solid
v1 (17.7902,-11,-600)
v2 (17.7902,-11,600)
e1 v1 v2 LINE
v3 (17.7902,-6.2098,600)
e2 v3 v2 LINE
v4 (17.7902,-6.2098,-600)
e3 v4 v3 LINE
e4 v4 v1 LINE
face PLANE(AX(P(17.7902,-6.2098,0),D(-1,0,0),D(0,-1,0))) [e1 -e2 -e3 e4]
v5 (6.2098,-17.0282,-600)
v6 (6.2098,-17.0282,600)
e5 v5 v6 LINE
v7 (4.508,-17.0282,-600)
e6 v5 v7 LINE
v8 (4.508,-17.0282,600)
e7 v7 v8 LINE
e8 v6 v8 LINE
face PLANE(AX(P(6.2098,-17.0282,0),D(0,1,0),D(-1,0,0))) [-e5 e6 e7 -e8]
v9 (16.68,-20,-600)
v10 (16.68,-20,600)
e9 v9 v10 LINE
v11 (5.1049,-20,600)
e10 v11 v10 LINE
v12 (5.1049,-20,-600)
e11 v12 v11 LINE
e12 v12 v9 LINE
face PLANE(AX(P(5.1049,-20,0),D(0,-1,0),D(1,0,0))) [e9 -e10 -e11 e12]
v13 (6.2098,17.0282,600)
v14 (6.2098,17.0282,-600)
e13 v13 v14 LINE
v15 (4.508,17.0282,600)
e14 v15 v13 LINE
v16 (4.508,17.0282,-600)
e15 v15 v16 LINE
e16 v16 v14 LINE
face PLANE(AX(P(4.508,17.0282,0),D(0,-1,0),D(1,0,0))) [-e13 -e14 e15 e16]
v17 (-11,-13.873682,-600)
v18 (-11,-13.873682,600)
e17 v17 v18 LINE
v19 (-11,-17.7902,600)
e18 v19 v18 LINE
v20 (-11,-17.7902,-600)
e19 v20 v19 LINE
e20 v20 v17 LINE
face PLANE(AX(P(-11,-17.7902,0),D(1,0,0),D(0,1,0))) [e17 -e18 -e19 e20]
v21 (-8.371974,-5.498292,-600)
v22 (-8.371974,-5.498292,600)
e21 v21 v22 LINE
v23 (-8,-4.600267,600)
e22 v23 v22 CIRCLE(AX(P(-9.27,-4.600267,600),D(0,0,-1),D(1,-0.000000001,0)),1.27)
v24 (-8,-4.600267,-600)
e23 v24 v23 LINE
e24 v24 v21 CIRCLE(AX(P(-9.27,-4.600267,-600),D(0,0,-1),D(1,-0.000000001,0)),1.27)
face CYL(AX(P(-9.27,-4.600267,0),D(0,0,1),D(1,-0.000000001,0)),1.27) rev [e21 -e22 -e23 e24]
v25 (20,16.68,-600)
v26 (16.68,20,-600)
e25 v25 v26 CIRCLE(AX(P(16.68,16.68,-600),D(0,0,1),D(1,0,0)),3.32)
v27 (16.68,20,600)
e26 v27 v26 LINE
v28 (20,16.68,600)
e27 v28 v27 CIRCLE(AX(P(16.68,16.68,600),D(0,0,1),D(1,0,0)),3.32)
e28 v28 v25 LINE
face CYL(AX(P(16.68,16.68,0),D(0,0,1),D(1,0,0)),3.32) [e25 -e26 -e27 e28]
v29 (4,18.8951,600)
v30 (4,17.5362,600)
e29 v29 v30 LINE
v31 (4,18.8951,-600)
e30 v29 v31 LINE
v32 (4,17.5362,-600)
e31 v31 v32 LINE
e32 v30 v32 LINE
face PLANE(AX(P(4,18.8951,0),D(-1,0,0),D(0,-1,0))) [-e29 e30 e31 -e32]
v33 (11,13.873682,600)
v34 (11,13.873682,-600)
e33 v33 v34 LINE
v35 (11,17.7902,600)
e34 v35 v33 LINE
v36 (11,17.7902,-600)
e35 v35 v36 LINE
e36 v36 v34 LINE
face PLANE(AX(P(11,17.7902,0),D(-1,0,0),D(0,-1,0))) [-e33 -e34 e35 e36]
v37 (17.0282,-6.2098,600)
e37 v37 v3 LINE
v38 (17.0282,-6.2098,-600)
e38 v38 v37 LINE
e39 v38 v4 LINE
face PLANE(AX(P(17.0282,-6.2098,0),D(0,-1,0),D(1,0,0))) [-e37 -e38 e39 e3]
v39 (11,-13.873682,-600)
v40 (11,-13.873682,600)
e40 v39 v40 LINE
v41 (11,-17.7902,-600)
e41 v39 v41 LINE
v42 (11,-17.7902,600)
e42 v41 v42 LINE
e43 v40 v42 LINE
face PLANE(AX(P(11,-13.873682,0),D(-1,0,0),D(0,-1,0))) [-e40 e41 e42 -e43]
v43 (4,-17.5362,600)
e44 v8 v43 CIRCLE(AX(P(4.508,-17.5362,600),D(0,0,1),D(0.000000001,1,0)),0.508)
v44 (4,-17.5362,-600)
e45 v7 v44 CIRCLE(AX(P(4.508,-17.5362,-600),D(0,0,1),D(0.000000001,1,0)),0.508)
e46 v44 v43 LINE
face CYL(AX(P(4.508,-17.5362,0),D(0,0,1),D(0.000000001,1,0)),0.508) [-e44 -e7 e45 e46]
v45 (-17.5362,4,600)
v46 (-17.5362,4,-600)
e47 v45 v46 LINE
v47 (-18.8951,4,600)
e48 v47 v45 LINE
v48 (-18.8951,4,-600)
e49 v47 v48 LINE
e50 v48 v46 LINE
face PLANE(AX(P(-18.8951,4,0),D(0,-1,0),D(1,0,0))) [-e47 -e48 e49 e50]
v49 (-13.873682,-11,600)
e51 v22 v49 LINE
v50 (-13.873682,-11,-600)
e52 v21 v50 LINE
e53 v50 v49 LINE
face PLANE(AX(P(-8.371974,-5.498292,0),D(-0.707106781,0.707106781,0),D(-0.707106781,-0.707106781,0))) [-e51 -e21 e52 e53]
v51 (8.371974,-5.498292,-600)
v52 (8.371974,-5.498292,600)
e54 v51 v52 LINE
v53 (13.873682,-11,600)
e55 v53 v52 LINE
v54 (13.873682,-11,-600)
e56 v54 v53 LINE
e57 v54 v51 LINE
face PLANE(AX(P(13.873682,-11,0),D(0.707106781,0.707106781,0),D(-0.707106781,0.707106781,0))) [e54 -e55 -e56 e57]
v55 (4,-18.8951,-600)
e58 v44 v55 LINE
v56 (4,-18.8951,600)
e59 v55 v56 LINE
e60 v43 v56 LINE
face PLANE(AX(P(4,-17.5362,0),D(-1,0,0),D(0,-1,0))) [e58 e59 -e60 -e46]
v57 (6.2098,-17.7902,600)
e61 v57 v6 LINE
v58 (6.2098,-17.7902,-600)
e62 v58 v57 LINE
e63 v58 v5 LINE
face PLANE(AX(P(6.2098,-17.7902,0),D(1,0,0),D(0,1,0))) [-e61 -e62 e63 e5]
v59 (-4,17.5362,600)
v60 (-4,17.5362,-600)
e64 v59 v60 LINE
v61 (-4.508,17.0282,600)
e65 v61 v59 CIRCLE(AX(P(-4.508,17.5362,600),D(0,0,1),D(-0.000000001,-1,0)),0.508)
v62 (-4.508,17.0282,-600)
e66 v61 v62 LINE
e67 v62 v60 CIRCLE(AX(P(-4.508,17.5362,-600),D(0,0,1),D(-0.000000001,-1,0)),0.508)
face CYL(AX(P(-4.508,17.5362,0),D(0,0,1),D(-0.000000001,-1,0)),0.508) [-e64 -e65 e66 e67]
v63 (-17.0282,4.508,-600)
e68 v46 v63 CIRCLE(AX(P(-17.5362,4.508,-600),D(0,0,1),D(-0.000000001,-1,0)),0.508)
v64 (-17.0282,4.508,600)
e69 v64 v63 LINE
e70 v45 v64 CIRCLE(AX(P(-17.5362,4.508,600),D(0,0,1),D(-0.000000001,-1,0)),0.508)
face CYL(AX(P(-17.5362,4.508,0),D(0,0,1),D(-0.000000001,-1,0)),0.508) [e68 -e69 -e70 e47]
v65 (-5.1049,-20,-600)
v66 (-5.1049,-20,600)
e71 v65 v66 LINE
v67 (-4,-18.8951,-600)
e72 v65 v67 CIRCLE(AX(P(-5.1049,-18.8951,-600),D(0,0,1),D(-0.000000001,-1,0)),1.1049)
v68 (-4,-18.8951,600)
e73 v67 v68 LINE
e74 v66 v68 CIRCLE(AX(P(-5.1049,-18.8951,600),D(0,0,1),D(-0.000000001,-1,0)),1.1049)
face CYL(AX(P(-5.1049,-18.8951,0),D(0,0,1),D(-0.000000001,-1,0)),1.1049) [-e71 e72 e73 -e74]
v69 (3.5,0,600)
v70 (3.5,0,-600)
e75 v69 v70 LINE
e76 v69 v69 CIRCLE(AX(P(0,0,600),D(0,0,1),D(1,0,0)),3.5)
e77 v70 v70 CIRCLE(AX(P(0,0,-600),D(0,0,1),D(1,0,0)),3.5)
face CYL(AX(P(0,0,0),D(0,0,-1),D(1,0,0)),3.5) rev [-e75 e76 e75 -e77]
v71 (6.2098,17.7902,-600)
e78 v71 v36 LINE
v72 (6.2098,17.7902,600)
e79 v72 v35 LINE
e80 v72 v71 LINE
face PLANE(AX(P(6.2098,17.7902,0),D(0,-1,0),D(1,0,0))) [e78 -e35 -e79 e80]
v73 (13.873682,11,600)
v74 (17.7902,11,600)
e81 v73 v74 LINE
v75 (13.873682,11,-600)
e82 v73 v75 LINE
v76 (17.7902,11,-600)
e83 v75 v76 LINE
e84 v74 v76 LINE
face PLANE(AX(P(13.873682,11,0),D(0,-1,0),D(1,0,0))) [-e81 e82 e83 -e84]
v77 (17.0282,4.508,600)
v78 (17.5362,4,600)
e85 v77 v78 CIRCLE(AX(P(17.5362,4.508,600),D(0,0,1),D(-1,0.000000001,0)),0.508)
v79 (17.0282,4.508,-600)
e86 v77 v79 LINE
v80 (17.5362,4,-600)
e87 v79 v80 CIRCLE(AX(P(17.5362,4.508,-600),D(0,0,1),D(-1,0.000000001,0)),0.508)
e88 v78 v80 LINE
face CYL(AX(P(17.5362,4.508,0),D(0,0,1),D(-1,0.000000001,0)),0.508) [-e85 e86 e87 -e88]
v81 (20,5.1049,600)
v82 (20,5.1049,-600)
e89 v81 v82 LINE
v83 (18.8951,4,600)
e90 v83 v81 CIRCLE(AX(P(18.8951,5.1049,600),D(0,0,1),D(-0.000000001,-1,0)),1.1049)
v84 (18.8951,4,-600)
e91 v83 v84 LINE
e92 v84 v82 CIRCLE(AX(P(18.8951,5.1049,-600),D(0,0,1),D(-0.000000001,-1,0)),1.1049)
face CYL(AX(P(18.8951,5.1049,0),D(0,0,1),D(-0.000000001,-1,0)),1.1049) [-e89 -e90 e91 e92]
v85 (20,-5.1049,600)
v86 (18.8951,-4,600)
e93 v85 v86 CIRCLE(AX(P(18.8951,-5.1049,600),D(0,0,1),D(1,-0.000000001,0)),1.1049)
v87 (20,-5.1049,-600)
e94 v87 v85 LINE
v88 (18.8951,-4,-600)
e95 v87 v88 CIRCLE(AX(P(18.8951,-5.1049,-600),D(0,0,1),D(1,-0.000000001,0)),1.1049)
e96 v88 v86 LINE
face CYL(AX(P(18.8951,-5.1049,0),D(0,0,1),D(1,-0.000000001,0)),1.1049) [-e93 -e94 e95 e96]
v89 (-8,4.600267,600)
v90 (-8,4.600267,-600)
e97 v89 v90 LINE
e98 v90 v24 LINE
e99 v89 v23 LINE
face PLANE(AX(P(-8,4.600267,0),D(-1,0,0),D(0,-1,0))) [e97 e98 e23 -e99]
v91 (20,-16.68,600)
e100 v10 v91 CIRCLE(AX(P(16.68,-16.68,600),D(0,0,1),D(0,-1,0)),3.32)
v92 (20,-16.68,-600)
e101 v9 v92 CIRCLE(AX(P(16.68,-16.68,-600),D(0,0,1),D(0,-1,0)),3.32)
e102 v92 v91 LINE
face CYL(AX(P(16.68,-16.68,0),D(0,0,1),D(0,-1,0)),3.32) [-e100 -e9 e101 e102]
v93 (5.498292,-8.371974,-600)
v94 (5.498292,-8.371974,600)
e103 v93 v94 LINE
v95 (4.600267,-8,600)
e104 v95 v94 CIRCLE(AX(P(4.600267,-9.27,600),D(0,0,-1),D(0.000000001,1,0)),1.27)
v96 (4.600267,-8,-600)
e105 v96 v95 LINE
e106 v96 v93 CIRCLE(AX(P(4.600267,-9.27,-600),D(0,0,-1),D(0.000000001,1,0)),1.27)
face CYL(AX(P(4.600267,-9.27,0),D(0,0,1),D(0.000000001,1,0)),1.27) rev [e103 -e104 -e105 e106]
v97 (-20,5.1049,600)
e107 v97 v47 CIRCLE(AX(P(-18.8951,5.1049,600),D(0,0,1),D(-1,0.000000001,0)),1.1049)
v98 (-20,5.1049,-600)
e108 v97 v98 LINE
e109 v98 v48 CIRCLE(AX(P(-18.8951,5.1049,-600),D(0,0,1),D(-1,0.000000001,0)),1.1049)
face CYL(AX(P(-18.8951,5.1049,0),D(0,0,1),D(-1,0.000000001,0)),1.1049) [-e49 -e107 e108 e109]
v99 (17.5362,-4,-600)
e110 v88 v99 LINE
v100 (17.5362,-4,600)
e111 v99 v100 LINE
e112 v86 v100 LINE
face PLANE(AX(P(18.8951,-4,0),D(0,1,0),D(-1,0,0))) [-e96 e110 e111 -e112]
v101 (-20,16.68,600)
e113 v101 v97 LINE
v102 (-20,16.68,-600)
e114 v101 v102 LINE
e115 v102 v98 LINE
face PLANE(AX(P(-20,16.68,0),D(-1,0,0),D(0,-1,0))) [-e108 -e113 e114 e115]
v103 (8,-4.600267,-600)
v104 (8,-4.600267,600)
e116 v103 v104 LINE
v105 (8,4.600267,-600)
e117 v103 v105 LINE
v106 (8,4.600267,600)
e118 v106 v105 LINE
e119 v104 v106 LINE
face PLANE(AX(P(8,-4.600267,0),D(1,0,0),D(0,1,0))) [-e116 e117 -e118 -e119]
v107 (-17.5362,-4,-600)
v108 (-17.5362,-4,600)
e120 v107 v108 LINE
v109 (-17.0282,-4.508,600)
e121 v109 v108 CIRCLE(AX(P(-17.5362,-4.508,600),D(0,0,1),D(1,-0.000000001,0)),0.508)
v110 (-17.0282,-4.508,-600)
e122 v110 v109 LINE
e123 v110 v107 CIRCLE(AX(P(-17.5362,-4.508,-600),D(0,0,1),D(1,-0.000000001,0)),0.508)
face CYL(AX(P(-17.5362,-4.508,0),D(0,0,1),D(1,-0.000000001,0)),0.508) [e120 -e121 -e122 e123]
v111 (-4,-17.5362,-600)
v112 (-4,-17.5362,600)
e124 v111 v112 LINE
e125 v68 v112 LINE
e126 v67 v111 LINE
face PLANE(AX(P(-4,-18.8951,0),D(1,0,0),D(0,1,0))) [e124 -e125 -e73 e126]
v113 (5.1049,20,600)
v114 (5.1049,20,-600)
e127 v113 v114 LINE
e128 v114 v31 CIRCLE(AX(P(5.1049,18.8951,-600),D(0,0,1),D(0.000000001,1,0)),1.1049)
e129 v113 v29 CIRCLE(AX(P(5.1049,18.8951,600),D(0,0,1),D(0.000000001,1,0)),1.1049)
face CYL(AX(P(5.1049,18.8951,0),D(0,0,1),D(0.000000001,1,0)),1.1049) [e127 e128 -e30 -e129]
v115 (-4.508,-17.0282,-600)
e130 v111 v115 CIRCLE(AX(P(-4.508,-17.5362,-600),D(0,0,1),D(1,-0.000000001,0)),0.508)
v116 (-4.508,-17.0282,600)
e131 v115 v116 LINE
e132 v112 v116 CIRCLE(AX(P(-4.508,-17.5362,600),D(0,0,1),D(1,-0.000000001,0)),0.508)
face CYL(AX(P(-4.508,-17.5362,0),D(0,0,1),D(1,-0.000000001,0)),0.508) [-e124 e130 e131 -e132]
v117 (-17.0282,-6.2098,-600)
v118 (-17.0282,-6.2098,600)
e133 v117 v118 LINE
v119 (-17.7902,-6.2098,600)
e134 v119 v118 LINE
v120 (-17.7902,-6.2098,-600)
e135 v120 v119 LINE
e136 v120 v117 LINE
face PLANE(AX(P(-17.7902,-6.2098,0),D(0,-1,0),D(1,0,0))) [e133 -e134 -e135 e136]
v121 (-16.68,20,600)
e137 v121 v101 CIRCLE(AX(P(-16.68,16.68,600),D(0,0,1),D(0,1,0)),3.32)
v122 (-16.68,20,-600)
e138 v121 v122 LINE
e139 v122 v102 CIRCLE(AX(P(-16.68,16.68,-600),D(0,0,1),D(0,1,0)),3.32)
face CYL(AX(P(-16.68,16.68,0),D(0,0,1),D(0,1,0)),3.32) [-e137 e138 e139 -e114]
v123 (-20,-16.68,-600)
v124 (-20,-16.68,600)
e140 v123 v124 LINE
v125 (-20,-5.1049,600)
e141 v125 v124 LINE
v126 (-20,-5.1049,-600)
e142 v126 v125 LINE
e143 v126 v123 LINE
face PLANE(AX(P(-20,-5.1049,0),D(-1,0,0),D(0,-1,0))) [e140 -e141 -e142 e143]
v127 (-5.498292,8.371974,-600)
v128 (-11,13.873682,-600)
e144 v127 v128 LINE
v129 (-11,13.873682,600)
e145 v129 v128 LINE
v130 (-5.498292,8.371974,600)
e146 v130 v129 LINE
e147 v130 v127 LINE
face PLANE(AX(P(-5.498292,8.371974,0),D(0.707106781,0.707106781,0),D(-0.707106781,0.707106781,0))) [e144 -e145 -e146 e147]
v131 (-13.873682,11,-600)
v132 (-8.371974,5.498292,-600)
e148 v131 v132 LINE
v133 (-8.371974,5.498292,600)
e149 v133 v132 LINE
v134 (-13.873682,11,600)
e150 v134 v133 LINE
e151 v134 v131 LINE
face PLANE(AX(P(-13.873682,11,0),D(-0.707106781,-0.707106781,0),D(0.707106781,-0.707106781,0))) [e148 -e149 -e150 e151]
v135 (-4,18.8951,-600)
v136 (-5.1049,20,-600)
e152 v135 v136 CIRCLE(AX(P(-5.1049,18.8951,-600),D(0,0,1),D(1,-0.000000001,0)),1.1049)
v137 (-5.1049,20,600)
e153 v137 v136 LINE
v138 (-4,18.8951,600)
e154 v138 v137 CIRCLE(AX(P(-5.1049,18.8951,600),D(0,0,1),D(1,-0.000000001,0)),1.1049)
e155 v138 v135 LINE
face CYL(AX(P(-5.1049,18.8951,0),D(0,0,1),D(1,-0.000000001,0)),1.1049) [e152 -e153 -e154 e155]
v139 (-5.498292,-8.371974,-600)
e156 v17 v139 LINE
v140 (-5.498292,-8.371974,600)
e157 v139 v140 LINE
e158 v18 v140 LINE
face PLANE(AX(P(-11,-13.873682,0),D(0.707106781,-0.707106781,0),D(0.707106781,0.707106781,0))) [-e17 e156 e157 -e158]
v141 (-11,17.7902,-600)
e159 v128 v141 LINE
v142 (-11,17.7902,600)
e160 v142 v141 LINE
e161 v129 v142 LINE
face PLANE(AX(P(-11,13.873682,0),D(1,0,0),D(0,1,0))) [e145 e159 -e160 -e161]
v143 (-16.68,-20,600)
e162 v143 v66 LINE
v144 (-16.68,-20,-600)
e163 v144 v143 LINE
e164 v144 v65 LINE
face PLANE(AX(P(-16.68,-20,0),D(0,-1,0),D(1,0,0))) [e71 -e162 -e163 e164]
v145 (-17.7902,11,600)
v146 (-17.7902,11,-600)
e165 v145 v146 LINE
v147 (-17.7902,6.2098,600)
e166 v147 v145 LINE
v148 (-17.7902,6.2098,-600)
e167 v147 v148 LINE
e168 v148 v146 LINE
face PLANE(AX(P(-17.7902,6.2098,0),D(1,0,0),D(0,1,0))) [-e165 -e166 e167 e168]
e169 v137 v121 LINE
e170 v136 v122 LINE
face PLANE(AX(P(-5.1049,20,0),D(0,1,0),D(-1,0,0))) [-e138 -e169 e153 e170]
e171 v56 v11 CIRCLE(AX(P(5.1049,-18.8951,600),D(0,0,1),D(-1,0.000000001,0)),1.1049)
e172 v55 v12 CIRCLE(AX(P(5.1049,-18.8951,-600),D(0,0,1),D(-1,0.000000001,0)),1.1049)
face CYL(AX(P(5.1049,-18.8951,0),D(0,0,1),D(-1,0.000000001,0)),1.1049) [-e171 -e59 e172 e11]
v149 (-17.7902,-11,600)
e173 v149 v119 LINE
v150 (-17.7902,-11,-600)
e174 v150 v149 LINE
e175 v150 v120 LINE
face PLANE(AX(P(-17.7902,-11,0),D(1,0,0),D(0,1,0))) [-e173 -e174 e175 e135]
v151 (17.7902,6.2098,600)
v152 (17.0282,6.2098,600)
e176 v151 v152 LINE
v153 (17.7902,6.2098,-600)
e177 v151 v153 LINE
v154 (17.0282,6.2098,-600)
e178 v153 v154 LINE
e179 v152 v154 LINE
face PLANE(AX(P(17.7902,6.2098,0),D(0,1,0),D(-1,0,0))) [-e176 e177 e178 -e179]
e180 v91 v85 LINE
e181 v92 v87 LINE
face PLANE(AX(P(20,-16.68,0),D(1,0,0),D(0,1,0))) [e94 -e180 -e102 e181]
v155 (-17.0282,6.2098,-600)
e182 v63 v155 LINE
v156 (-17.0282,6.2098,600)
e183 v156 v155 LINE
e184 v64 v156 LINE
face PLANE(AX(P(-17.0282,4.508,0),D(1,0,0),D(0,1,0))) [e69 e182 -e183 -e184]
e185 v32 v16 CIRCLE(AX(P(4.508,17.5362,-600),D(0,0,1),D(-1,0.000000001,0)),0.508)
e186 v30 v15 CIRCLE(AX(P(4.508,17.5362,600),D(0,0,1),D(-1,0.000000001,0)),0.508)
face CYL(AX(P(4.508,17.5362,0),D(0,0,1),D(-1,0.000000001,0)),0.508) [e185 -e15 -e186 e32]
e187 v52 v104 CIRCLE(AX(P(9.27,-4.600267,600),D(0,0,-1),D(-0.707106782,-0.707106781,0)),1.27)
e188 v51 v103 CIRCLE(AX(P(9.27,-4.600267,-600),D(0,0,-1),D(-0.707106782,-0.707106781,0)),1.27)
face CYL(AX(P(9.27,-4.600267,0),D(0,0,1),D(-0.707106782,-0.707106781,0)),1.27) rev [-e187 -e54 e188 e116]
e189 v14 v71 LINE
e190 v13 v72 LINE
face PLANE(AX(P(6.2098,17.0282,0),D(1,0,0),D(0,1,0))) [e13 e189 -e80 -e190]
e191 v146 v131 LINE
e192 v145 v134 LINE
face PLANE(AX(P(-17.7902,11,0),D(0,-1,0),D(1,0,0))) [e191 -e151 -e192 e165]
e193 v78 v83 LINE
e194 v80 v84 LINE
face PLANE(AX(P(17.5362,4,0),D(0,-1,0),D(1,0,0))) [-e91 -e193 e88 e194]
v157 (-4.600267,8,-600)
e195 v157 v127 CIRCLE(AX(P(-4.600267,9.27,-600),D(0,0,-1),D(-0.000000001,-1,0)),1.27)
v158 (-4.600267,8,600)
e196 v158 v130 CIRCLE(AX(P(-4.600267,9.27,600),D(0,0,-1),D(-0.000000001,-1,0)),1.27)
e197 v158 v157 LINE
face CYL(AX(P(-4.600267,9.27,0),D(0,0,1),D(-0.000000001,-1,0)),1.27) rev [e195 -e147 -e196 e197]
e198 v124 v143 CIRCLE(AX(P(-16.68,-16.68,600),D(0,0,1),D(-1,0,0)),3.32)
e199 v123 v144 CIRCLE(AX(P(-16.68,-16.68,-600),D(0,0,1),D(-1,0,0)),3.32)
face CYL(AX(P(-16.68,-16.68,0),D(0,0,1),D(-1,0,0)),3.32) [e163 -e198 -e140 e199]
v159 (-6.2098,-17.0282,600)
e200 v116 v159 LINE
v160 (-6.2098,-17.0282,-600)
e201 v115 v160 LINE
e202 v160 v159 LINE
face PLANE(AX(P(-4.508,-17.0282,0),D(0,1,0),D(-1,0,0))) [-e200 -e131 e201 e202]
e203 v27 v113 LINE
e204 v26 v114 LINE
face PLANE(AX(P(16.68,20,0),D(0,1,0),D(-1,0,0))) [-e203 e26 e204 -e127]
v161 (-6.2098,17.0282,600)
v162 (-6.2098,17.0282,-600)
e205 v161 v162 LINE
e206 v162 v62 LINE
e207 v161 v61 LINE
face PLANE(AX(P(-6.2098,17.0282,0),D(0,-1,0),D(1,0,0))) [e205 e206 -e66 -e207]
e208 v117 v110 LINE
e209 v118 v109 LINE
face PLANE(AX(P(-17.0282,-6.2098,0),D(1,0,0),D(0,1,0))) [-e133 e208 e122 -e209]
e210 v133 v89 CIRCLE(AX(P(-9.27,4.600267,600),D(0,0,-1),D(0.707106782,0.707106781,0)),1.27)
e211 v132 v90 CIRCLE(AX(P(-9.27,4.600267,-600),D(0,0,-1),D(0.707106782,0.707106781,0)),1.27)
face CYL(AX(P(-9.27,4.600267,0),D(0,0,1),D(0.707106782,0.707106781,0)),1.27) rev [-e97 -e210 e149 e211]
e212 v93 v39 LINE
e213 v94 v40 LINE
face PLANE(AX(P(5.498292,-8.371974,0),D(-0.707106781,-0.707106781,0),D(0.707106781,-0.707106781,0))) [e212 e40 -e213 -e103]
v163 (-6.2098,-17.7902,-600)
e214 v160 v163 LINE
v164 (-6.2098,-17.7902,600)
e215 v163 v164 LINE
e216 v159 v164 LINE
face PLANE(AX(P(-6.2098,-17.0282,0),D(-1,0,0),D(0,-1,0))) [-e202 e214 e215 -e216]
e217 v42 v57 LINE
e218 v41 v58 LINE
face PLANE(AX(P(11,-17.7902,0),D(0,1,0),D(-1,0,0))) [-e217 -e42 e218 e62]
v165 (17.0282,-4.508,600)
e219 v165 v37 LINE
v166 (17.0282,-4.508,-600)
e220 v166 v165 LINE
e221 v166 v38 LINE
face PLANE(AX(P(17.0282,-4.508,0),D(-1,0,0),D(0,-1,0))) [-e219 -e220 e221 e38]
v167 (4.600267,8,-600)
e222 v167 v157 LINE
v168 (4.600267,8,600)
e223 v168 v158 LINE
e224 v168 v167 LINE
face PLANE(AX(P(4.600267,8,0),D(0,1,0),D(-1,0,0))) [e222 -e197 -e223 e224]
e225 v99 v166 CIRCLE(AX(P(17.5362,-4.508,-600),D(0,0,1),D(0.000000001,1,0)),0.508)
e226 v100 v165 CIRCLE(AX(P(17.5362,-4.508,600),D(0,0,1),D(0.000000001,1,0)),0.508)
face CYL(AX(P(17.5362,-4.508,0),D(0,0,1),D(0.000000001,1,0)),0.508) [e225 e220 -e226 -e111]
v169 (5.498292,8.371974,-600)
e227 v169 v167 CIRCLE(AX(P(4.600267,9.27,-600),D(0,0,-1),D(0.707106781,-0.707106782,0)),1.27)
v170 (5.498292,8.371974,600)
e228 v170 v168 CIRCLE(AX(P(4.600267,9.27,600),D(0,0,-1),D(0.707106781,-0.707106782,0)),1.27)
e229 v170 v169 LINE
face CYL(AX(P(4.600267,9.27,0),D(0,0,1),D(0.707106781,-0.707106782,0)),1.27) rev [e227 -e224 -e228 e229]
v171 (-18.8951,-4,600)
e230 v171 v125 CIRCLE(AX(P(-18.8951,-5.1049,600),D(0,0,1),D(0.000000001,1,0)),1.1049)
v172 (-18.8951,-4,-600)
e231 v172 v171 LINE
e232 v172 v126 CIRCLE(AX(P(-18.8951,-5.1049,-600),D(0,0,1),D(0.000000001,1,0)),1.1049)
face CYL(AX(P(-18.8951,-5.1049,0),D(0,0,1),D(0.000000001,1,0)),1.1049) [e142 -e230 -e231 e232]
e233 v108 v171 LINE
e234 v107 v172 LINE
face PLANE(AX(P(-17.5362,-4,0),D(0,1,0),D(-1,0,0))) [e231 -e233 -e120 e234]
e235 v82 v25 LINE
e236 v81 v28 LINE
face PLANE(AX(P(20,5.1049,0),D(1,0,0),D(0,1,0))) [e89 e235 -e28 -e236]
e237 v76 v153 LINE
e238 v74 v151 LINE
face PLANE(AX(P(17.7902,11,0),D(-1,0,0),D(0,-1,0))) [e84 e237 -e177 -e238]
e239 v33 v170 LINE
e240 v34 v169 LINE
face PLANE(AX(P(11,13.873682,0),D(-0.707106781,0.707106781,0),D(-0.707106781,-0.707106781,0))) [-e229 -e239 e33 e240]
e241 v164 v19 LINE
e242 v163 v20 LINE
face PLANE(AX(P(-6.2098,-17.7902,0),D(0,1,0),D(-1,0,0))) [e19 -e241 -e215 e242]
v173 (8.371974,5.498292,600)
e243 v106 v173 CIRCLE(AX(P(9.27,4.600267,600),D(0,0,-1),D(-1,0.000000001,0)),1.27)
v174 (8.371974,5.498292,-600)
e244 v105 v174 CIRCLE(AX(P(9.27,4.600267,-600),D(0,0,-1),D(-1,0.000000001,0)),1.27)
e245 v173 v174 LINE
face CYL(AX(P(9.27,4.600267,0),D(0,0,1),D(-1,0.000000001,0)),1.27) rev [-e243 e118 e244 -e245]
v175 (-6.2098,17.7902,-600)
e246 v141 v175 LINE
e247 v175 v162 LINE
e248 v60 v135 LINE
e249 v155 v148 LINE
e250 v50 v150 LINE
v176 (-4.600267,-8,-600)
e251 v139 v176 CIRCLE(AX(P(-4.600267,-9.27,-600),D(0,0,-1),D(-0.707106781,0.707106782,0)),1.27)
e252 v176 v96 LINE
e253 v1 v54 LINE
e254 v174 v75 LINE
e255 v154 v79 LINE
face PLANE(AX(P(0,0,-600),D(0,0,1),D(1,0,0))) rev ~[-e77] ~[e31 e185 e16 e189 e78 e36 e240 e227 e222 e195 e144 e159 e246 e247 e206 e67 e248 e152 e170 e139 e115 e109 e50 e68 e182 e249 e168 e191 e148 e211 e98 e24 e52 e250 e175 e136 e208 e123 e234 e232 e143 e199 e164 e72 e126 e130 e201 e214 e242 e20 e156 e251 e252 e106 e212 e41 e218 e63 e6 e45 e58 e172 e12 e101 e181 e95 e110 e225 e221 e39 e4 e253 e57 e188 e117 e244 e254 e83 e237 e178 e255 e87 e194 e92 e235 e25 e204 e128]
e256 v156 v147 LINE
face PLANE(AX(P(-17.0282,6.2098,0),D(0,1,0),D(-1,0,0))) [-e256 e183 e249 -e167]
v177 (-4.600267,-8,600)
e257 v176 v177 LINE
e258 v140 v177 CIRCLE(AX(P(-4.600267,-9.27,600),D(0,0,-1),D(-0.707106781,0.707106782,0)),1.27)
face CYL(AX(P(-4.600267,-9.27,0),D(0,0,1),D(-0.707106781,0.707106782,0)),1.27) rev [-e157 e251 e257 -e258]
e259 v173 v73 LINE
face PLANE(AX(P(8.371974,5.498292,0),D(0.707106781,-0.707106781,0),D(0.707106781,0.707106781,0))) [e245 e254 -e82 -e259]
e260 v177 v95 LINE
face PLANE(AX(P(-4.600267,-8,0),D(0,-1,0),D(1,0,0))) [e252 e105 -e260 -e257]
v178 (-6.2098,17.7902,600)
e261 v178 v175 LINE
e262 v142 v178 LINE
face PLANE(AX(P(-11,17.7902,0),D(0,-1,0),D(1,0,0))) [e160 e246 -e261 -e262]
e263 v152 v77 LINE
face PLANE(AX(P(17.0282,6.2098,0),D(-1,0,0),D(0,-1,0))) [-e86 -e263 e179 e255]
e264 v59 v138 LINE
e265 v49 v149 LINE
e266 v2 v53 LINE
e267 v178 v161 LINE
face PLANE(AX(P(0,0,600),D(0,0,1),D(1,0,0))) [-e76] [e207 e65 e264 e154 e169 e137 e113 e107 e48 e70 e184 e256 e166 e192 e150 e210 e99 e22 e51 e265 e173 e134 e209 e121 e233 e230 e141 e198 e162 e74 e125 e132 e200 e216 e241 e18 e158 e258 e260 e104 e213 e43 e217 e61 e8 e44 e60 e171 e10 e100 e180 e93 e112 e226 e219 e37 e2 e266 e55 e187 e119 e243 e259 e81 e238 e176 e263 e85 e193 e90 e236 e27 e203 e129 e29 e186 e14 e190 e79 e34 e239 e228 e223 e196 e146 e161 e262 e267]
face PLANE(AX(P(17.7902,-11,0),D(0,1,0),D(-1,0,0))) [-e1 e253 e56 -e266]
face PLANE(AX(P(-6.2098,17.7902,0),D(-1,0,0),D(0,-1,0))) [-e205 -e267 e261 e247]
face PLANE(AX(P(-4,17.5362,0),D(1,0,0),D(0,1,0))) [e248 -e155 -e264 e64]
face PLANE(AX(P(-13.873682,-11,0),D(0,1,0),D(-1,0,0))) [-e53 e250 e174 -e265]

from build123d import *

# Parameters (mm, degrees)
SKETCH1_R           = 3.5
BOSS_EXTRUDE1_DEPTH = 600


with BuildPart() as part:
    # Sketch1 → Boss-Extrude1 (new, symmetric)
    with BuildSketch(Plane.XY):
        with BuildLine():
            Line((-8, 4.600266817), (-8, -4.600266817))
            ThreePointArc((-8, -4.600266817), (-8.096672994, -5.086274776), (-8.371974388, -5.498292429))
            Line((-8.371974388, -5.498292429), (-13.873681959, -11))
            Line((-13.873681959, -11), (-17.7902, -11))
            Line((-17.7902, -11), (-17.7902, -6.2098))
            Line((-17.7902, -6.2098), (-17.0282, -6.2098))
            Line((-17.0282, -6.2098), (-17.0282, -4.508))
            ThreePointArc((-17.0282, -4.508), (-17.176989755, -4.148789755), (-17.5362, -4))
            Line((-17.5362, -4), (-18.8951, -4))
            ThreePointArc((-18.8951, -4), (-19.676382283, -4.323617717), (-20, -5.1049))
            Line((-20, -5.1049), (-20, -16.68))
            ThreePointArc((-20, -16.68), (-19.027594514, -19.027594514), (-16.68, -20))
            Line((-16.68, -20), (-5.1049, -20))
            ThreePointArc((-5.1049, -20), (-4.323617717, -19.676382283), (-4, -18.8951))
            Line((-4, -18.8951), (-4, -17.5362))
            ThreePointArc((-4, -17.5362), (-4.148789755, -17.176989755), (-4.508, -17.0282))
            Line((-4.508, -17.0282), (-6.2098, -17.0282))
            Line((-6.2098, -17.0282), (-6.2098, -17.7902))
            Line((-6.2098, -17.7902), (-11, -17.7902))
            Line((-11, -17.7902), (-11, -13.873681959))
            Line((-11, -13.873681959), (-5.498292429, -8.371974388))
            ThreePointArc((-5.498292429, -8.371974388), (-5.086274776, -8.096672994), (-4.600266817, -8))
            Line((-4.600266817, -8), (4.600266817, -8))
            ThreePointArc((4.600266817, -8), (5.086274776, -8.096672994), (5.498292429, -8.371974388))
            Line((5.498292429, -8.371974388), (11, -13.873681959))
            Line((11, -13.873681959), (11, -17.7902))
            Line((11, -17.7902), (6.2098, -17.7902))
            Line((6.2098, -17.7902), (6.2098, -17.0282))
            Line((6.2098, -17.0282), (4.508, -17.0282))
            ThreePointArc((4.508, -17.0282), (4.148789755, -17.176989755), (4, -17.5362))
            Line((4, -17.5362), (4, -18.8951))
            ThreePointArc((4, -18.8951), (4.323617717, -19.676382283), (5.1049, -20))
            Line((5.1049, -20), (16.68, -20))
            ThreePointArc((16.68, -20), (19.027594514, -19.027594514), (20, -16.68))
            Line((20, -16.68), (20, -5.1049))
            ThreePointArc((20, -5.1049), (19.676382283, -4.323617717), (18.8951, -4))
            Line((18.8951, -4), (17.5362, -4))
            ThreePointArc((17.5362, -4), (17.176989755, -4.148789755), (17.0282, -4.508))
            Line((17.0282, -4.508), (17.0282, -6.2098))
            Line((17.0282, -6.2098), (17.7902, -6.2098))
            Line((17.7902, -6.2098), (17.7902, -11))
            Line((17.7902, -11), (13.873681959, -11))
            Line((13.873681959, -11), (8.371974388, -5.498292429))
            ThreePointArc((8.371974388, -5.498292429), (8.096672994, -5.086274776), (8, -4.600266817))
            Line((8, -4.600266817), (8, 4.600266817))
            ThreePointArc((8, 4.600266817), (8.096672994, 5.086274776), (8.371974388, 5.498292429))
            Line((8.371974388, 5.498292429), (13.873681959, 11))
            Line((13.873681959, 11), (17.7902, 11))
            Line((17.7902, 11), (17.7902, 6.2098))
            Line((17.7902, 6.2098), (17.0282, 6.2098))
            Line((17.0282, 6.2098), (17.0282, 4.508))
            ThreePointArc((17.0282, 4.508), (17.176989755, 4.148789755), (17.5362, 4))
            Line((17.5362, 4), (18.8951, 4))
            ThreePointArc((18.8951, 4), (19.676382283, 4.323617717), (20, 5.1049))
            Line((20, 5.1049), (20, 16.68))
            ThreePointArc((20, 16.68), (19.027594514, 19.027594514), (16.68, 20))
            Line((16.68, 20), (5.1049, 20))
            ThreePointArc((5.1049, 20), (4.323617717, 19.676382283), (4, 18.8951))
            Line((4, 18.8951), (4, 17.5362))
            ThreePointArc((4, 17.5362), (4.148789755, 17.176989755), (4.508, 17.0282))
            Line((4.508, 17.0282), (6.2098, 17.0282))
            Line((6.2098, 17.0282), (6.2098, 17.7902))
            Line((6.2098, 17.7902), (11, 17.7902))
            Line((11, 17.7902), (11, 13.873681959))
            Line((11, 13.873681959), (5.498292429, 8.371974388))
            ThreePointArc((5.498292429, 8.371974388), (5.086274776, 8.096672994), (4.600266817, 8))
            Line((4.600266817, 8), (-4.600266817, 8))
            ThreePointArc((-4.600266817, 8), (-5.086274776, 8.096672994), (-5.498292429, 8.371974388))
            Line((-5.498292429, 8.371974388), (-11, 13.873681959))
            Line((-11, 13.873681959), (-11, 17.7902))
            Line((-11, 17.7902), (-6.2098, 17.7902))
            Line((-6.2098, 17.7902), (-6.2098, 17.0282))
            Line((-6.2098, 17.0282), (-4.508, 17.0282))
            ThreePointArc((-4.508, 17.0282), (-4.148789755, 17.176989755), (-4, 17.5362))
            Line((-4, 17.5362), (-4, 18.8951))
            ThreePointArc((-4, 18.8951), (-4.323617717, 19.676382283), (-5.1049, 20))
            Line((-5.1049, 20), (-16.68, 20))
            ThreePointArc((-16.68, 20), (-19.027594514, 19.027594514), (-20, 16.68))
            Line((-20, 16.68), (-20, 5.1049))
            ThreePointArc((-20, 5.1049), (-19.676382283, 4.323617717), (-18.8951, 4))
            Line((-18.8951, 4), (-17.5362, 4))
            ThreePointArc((-17.5362, 4), (-17.176989755, 4.148789755), (-17.0282, 4.508))
            Line((-17.0282, 4.508), (-17.0282, 6.2098))
            Line((-17.0282, 6.2098), (-17.7902, 6.2098))
            Line((-17.7902, 6.2098), (-17.7902, 11))
            Line((-17.7902, 11), (-13.873681959, 11))
            Line((-13.873681959, 11), (-8.371974388, 5.498292429))
            ThreePointArc((-8.371974388, 5.498292429), (-8.096672994, 5.086274776), (-8, 4.600266817))
        make_face()
        Circle(SKETCH1_R, mode=Mode.SUBTRACT)
    extrude(amount=BOSS_EXTRUDE1_DEPTH, both=True)


solid = part.part
